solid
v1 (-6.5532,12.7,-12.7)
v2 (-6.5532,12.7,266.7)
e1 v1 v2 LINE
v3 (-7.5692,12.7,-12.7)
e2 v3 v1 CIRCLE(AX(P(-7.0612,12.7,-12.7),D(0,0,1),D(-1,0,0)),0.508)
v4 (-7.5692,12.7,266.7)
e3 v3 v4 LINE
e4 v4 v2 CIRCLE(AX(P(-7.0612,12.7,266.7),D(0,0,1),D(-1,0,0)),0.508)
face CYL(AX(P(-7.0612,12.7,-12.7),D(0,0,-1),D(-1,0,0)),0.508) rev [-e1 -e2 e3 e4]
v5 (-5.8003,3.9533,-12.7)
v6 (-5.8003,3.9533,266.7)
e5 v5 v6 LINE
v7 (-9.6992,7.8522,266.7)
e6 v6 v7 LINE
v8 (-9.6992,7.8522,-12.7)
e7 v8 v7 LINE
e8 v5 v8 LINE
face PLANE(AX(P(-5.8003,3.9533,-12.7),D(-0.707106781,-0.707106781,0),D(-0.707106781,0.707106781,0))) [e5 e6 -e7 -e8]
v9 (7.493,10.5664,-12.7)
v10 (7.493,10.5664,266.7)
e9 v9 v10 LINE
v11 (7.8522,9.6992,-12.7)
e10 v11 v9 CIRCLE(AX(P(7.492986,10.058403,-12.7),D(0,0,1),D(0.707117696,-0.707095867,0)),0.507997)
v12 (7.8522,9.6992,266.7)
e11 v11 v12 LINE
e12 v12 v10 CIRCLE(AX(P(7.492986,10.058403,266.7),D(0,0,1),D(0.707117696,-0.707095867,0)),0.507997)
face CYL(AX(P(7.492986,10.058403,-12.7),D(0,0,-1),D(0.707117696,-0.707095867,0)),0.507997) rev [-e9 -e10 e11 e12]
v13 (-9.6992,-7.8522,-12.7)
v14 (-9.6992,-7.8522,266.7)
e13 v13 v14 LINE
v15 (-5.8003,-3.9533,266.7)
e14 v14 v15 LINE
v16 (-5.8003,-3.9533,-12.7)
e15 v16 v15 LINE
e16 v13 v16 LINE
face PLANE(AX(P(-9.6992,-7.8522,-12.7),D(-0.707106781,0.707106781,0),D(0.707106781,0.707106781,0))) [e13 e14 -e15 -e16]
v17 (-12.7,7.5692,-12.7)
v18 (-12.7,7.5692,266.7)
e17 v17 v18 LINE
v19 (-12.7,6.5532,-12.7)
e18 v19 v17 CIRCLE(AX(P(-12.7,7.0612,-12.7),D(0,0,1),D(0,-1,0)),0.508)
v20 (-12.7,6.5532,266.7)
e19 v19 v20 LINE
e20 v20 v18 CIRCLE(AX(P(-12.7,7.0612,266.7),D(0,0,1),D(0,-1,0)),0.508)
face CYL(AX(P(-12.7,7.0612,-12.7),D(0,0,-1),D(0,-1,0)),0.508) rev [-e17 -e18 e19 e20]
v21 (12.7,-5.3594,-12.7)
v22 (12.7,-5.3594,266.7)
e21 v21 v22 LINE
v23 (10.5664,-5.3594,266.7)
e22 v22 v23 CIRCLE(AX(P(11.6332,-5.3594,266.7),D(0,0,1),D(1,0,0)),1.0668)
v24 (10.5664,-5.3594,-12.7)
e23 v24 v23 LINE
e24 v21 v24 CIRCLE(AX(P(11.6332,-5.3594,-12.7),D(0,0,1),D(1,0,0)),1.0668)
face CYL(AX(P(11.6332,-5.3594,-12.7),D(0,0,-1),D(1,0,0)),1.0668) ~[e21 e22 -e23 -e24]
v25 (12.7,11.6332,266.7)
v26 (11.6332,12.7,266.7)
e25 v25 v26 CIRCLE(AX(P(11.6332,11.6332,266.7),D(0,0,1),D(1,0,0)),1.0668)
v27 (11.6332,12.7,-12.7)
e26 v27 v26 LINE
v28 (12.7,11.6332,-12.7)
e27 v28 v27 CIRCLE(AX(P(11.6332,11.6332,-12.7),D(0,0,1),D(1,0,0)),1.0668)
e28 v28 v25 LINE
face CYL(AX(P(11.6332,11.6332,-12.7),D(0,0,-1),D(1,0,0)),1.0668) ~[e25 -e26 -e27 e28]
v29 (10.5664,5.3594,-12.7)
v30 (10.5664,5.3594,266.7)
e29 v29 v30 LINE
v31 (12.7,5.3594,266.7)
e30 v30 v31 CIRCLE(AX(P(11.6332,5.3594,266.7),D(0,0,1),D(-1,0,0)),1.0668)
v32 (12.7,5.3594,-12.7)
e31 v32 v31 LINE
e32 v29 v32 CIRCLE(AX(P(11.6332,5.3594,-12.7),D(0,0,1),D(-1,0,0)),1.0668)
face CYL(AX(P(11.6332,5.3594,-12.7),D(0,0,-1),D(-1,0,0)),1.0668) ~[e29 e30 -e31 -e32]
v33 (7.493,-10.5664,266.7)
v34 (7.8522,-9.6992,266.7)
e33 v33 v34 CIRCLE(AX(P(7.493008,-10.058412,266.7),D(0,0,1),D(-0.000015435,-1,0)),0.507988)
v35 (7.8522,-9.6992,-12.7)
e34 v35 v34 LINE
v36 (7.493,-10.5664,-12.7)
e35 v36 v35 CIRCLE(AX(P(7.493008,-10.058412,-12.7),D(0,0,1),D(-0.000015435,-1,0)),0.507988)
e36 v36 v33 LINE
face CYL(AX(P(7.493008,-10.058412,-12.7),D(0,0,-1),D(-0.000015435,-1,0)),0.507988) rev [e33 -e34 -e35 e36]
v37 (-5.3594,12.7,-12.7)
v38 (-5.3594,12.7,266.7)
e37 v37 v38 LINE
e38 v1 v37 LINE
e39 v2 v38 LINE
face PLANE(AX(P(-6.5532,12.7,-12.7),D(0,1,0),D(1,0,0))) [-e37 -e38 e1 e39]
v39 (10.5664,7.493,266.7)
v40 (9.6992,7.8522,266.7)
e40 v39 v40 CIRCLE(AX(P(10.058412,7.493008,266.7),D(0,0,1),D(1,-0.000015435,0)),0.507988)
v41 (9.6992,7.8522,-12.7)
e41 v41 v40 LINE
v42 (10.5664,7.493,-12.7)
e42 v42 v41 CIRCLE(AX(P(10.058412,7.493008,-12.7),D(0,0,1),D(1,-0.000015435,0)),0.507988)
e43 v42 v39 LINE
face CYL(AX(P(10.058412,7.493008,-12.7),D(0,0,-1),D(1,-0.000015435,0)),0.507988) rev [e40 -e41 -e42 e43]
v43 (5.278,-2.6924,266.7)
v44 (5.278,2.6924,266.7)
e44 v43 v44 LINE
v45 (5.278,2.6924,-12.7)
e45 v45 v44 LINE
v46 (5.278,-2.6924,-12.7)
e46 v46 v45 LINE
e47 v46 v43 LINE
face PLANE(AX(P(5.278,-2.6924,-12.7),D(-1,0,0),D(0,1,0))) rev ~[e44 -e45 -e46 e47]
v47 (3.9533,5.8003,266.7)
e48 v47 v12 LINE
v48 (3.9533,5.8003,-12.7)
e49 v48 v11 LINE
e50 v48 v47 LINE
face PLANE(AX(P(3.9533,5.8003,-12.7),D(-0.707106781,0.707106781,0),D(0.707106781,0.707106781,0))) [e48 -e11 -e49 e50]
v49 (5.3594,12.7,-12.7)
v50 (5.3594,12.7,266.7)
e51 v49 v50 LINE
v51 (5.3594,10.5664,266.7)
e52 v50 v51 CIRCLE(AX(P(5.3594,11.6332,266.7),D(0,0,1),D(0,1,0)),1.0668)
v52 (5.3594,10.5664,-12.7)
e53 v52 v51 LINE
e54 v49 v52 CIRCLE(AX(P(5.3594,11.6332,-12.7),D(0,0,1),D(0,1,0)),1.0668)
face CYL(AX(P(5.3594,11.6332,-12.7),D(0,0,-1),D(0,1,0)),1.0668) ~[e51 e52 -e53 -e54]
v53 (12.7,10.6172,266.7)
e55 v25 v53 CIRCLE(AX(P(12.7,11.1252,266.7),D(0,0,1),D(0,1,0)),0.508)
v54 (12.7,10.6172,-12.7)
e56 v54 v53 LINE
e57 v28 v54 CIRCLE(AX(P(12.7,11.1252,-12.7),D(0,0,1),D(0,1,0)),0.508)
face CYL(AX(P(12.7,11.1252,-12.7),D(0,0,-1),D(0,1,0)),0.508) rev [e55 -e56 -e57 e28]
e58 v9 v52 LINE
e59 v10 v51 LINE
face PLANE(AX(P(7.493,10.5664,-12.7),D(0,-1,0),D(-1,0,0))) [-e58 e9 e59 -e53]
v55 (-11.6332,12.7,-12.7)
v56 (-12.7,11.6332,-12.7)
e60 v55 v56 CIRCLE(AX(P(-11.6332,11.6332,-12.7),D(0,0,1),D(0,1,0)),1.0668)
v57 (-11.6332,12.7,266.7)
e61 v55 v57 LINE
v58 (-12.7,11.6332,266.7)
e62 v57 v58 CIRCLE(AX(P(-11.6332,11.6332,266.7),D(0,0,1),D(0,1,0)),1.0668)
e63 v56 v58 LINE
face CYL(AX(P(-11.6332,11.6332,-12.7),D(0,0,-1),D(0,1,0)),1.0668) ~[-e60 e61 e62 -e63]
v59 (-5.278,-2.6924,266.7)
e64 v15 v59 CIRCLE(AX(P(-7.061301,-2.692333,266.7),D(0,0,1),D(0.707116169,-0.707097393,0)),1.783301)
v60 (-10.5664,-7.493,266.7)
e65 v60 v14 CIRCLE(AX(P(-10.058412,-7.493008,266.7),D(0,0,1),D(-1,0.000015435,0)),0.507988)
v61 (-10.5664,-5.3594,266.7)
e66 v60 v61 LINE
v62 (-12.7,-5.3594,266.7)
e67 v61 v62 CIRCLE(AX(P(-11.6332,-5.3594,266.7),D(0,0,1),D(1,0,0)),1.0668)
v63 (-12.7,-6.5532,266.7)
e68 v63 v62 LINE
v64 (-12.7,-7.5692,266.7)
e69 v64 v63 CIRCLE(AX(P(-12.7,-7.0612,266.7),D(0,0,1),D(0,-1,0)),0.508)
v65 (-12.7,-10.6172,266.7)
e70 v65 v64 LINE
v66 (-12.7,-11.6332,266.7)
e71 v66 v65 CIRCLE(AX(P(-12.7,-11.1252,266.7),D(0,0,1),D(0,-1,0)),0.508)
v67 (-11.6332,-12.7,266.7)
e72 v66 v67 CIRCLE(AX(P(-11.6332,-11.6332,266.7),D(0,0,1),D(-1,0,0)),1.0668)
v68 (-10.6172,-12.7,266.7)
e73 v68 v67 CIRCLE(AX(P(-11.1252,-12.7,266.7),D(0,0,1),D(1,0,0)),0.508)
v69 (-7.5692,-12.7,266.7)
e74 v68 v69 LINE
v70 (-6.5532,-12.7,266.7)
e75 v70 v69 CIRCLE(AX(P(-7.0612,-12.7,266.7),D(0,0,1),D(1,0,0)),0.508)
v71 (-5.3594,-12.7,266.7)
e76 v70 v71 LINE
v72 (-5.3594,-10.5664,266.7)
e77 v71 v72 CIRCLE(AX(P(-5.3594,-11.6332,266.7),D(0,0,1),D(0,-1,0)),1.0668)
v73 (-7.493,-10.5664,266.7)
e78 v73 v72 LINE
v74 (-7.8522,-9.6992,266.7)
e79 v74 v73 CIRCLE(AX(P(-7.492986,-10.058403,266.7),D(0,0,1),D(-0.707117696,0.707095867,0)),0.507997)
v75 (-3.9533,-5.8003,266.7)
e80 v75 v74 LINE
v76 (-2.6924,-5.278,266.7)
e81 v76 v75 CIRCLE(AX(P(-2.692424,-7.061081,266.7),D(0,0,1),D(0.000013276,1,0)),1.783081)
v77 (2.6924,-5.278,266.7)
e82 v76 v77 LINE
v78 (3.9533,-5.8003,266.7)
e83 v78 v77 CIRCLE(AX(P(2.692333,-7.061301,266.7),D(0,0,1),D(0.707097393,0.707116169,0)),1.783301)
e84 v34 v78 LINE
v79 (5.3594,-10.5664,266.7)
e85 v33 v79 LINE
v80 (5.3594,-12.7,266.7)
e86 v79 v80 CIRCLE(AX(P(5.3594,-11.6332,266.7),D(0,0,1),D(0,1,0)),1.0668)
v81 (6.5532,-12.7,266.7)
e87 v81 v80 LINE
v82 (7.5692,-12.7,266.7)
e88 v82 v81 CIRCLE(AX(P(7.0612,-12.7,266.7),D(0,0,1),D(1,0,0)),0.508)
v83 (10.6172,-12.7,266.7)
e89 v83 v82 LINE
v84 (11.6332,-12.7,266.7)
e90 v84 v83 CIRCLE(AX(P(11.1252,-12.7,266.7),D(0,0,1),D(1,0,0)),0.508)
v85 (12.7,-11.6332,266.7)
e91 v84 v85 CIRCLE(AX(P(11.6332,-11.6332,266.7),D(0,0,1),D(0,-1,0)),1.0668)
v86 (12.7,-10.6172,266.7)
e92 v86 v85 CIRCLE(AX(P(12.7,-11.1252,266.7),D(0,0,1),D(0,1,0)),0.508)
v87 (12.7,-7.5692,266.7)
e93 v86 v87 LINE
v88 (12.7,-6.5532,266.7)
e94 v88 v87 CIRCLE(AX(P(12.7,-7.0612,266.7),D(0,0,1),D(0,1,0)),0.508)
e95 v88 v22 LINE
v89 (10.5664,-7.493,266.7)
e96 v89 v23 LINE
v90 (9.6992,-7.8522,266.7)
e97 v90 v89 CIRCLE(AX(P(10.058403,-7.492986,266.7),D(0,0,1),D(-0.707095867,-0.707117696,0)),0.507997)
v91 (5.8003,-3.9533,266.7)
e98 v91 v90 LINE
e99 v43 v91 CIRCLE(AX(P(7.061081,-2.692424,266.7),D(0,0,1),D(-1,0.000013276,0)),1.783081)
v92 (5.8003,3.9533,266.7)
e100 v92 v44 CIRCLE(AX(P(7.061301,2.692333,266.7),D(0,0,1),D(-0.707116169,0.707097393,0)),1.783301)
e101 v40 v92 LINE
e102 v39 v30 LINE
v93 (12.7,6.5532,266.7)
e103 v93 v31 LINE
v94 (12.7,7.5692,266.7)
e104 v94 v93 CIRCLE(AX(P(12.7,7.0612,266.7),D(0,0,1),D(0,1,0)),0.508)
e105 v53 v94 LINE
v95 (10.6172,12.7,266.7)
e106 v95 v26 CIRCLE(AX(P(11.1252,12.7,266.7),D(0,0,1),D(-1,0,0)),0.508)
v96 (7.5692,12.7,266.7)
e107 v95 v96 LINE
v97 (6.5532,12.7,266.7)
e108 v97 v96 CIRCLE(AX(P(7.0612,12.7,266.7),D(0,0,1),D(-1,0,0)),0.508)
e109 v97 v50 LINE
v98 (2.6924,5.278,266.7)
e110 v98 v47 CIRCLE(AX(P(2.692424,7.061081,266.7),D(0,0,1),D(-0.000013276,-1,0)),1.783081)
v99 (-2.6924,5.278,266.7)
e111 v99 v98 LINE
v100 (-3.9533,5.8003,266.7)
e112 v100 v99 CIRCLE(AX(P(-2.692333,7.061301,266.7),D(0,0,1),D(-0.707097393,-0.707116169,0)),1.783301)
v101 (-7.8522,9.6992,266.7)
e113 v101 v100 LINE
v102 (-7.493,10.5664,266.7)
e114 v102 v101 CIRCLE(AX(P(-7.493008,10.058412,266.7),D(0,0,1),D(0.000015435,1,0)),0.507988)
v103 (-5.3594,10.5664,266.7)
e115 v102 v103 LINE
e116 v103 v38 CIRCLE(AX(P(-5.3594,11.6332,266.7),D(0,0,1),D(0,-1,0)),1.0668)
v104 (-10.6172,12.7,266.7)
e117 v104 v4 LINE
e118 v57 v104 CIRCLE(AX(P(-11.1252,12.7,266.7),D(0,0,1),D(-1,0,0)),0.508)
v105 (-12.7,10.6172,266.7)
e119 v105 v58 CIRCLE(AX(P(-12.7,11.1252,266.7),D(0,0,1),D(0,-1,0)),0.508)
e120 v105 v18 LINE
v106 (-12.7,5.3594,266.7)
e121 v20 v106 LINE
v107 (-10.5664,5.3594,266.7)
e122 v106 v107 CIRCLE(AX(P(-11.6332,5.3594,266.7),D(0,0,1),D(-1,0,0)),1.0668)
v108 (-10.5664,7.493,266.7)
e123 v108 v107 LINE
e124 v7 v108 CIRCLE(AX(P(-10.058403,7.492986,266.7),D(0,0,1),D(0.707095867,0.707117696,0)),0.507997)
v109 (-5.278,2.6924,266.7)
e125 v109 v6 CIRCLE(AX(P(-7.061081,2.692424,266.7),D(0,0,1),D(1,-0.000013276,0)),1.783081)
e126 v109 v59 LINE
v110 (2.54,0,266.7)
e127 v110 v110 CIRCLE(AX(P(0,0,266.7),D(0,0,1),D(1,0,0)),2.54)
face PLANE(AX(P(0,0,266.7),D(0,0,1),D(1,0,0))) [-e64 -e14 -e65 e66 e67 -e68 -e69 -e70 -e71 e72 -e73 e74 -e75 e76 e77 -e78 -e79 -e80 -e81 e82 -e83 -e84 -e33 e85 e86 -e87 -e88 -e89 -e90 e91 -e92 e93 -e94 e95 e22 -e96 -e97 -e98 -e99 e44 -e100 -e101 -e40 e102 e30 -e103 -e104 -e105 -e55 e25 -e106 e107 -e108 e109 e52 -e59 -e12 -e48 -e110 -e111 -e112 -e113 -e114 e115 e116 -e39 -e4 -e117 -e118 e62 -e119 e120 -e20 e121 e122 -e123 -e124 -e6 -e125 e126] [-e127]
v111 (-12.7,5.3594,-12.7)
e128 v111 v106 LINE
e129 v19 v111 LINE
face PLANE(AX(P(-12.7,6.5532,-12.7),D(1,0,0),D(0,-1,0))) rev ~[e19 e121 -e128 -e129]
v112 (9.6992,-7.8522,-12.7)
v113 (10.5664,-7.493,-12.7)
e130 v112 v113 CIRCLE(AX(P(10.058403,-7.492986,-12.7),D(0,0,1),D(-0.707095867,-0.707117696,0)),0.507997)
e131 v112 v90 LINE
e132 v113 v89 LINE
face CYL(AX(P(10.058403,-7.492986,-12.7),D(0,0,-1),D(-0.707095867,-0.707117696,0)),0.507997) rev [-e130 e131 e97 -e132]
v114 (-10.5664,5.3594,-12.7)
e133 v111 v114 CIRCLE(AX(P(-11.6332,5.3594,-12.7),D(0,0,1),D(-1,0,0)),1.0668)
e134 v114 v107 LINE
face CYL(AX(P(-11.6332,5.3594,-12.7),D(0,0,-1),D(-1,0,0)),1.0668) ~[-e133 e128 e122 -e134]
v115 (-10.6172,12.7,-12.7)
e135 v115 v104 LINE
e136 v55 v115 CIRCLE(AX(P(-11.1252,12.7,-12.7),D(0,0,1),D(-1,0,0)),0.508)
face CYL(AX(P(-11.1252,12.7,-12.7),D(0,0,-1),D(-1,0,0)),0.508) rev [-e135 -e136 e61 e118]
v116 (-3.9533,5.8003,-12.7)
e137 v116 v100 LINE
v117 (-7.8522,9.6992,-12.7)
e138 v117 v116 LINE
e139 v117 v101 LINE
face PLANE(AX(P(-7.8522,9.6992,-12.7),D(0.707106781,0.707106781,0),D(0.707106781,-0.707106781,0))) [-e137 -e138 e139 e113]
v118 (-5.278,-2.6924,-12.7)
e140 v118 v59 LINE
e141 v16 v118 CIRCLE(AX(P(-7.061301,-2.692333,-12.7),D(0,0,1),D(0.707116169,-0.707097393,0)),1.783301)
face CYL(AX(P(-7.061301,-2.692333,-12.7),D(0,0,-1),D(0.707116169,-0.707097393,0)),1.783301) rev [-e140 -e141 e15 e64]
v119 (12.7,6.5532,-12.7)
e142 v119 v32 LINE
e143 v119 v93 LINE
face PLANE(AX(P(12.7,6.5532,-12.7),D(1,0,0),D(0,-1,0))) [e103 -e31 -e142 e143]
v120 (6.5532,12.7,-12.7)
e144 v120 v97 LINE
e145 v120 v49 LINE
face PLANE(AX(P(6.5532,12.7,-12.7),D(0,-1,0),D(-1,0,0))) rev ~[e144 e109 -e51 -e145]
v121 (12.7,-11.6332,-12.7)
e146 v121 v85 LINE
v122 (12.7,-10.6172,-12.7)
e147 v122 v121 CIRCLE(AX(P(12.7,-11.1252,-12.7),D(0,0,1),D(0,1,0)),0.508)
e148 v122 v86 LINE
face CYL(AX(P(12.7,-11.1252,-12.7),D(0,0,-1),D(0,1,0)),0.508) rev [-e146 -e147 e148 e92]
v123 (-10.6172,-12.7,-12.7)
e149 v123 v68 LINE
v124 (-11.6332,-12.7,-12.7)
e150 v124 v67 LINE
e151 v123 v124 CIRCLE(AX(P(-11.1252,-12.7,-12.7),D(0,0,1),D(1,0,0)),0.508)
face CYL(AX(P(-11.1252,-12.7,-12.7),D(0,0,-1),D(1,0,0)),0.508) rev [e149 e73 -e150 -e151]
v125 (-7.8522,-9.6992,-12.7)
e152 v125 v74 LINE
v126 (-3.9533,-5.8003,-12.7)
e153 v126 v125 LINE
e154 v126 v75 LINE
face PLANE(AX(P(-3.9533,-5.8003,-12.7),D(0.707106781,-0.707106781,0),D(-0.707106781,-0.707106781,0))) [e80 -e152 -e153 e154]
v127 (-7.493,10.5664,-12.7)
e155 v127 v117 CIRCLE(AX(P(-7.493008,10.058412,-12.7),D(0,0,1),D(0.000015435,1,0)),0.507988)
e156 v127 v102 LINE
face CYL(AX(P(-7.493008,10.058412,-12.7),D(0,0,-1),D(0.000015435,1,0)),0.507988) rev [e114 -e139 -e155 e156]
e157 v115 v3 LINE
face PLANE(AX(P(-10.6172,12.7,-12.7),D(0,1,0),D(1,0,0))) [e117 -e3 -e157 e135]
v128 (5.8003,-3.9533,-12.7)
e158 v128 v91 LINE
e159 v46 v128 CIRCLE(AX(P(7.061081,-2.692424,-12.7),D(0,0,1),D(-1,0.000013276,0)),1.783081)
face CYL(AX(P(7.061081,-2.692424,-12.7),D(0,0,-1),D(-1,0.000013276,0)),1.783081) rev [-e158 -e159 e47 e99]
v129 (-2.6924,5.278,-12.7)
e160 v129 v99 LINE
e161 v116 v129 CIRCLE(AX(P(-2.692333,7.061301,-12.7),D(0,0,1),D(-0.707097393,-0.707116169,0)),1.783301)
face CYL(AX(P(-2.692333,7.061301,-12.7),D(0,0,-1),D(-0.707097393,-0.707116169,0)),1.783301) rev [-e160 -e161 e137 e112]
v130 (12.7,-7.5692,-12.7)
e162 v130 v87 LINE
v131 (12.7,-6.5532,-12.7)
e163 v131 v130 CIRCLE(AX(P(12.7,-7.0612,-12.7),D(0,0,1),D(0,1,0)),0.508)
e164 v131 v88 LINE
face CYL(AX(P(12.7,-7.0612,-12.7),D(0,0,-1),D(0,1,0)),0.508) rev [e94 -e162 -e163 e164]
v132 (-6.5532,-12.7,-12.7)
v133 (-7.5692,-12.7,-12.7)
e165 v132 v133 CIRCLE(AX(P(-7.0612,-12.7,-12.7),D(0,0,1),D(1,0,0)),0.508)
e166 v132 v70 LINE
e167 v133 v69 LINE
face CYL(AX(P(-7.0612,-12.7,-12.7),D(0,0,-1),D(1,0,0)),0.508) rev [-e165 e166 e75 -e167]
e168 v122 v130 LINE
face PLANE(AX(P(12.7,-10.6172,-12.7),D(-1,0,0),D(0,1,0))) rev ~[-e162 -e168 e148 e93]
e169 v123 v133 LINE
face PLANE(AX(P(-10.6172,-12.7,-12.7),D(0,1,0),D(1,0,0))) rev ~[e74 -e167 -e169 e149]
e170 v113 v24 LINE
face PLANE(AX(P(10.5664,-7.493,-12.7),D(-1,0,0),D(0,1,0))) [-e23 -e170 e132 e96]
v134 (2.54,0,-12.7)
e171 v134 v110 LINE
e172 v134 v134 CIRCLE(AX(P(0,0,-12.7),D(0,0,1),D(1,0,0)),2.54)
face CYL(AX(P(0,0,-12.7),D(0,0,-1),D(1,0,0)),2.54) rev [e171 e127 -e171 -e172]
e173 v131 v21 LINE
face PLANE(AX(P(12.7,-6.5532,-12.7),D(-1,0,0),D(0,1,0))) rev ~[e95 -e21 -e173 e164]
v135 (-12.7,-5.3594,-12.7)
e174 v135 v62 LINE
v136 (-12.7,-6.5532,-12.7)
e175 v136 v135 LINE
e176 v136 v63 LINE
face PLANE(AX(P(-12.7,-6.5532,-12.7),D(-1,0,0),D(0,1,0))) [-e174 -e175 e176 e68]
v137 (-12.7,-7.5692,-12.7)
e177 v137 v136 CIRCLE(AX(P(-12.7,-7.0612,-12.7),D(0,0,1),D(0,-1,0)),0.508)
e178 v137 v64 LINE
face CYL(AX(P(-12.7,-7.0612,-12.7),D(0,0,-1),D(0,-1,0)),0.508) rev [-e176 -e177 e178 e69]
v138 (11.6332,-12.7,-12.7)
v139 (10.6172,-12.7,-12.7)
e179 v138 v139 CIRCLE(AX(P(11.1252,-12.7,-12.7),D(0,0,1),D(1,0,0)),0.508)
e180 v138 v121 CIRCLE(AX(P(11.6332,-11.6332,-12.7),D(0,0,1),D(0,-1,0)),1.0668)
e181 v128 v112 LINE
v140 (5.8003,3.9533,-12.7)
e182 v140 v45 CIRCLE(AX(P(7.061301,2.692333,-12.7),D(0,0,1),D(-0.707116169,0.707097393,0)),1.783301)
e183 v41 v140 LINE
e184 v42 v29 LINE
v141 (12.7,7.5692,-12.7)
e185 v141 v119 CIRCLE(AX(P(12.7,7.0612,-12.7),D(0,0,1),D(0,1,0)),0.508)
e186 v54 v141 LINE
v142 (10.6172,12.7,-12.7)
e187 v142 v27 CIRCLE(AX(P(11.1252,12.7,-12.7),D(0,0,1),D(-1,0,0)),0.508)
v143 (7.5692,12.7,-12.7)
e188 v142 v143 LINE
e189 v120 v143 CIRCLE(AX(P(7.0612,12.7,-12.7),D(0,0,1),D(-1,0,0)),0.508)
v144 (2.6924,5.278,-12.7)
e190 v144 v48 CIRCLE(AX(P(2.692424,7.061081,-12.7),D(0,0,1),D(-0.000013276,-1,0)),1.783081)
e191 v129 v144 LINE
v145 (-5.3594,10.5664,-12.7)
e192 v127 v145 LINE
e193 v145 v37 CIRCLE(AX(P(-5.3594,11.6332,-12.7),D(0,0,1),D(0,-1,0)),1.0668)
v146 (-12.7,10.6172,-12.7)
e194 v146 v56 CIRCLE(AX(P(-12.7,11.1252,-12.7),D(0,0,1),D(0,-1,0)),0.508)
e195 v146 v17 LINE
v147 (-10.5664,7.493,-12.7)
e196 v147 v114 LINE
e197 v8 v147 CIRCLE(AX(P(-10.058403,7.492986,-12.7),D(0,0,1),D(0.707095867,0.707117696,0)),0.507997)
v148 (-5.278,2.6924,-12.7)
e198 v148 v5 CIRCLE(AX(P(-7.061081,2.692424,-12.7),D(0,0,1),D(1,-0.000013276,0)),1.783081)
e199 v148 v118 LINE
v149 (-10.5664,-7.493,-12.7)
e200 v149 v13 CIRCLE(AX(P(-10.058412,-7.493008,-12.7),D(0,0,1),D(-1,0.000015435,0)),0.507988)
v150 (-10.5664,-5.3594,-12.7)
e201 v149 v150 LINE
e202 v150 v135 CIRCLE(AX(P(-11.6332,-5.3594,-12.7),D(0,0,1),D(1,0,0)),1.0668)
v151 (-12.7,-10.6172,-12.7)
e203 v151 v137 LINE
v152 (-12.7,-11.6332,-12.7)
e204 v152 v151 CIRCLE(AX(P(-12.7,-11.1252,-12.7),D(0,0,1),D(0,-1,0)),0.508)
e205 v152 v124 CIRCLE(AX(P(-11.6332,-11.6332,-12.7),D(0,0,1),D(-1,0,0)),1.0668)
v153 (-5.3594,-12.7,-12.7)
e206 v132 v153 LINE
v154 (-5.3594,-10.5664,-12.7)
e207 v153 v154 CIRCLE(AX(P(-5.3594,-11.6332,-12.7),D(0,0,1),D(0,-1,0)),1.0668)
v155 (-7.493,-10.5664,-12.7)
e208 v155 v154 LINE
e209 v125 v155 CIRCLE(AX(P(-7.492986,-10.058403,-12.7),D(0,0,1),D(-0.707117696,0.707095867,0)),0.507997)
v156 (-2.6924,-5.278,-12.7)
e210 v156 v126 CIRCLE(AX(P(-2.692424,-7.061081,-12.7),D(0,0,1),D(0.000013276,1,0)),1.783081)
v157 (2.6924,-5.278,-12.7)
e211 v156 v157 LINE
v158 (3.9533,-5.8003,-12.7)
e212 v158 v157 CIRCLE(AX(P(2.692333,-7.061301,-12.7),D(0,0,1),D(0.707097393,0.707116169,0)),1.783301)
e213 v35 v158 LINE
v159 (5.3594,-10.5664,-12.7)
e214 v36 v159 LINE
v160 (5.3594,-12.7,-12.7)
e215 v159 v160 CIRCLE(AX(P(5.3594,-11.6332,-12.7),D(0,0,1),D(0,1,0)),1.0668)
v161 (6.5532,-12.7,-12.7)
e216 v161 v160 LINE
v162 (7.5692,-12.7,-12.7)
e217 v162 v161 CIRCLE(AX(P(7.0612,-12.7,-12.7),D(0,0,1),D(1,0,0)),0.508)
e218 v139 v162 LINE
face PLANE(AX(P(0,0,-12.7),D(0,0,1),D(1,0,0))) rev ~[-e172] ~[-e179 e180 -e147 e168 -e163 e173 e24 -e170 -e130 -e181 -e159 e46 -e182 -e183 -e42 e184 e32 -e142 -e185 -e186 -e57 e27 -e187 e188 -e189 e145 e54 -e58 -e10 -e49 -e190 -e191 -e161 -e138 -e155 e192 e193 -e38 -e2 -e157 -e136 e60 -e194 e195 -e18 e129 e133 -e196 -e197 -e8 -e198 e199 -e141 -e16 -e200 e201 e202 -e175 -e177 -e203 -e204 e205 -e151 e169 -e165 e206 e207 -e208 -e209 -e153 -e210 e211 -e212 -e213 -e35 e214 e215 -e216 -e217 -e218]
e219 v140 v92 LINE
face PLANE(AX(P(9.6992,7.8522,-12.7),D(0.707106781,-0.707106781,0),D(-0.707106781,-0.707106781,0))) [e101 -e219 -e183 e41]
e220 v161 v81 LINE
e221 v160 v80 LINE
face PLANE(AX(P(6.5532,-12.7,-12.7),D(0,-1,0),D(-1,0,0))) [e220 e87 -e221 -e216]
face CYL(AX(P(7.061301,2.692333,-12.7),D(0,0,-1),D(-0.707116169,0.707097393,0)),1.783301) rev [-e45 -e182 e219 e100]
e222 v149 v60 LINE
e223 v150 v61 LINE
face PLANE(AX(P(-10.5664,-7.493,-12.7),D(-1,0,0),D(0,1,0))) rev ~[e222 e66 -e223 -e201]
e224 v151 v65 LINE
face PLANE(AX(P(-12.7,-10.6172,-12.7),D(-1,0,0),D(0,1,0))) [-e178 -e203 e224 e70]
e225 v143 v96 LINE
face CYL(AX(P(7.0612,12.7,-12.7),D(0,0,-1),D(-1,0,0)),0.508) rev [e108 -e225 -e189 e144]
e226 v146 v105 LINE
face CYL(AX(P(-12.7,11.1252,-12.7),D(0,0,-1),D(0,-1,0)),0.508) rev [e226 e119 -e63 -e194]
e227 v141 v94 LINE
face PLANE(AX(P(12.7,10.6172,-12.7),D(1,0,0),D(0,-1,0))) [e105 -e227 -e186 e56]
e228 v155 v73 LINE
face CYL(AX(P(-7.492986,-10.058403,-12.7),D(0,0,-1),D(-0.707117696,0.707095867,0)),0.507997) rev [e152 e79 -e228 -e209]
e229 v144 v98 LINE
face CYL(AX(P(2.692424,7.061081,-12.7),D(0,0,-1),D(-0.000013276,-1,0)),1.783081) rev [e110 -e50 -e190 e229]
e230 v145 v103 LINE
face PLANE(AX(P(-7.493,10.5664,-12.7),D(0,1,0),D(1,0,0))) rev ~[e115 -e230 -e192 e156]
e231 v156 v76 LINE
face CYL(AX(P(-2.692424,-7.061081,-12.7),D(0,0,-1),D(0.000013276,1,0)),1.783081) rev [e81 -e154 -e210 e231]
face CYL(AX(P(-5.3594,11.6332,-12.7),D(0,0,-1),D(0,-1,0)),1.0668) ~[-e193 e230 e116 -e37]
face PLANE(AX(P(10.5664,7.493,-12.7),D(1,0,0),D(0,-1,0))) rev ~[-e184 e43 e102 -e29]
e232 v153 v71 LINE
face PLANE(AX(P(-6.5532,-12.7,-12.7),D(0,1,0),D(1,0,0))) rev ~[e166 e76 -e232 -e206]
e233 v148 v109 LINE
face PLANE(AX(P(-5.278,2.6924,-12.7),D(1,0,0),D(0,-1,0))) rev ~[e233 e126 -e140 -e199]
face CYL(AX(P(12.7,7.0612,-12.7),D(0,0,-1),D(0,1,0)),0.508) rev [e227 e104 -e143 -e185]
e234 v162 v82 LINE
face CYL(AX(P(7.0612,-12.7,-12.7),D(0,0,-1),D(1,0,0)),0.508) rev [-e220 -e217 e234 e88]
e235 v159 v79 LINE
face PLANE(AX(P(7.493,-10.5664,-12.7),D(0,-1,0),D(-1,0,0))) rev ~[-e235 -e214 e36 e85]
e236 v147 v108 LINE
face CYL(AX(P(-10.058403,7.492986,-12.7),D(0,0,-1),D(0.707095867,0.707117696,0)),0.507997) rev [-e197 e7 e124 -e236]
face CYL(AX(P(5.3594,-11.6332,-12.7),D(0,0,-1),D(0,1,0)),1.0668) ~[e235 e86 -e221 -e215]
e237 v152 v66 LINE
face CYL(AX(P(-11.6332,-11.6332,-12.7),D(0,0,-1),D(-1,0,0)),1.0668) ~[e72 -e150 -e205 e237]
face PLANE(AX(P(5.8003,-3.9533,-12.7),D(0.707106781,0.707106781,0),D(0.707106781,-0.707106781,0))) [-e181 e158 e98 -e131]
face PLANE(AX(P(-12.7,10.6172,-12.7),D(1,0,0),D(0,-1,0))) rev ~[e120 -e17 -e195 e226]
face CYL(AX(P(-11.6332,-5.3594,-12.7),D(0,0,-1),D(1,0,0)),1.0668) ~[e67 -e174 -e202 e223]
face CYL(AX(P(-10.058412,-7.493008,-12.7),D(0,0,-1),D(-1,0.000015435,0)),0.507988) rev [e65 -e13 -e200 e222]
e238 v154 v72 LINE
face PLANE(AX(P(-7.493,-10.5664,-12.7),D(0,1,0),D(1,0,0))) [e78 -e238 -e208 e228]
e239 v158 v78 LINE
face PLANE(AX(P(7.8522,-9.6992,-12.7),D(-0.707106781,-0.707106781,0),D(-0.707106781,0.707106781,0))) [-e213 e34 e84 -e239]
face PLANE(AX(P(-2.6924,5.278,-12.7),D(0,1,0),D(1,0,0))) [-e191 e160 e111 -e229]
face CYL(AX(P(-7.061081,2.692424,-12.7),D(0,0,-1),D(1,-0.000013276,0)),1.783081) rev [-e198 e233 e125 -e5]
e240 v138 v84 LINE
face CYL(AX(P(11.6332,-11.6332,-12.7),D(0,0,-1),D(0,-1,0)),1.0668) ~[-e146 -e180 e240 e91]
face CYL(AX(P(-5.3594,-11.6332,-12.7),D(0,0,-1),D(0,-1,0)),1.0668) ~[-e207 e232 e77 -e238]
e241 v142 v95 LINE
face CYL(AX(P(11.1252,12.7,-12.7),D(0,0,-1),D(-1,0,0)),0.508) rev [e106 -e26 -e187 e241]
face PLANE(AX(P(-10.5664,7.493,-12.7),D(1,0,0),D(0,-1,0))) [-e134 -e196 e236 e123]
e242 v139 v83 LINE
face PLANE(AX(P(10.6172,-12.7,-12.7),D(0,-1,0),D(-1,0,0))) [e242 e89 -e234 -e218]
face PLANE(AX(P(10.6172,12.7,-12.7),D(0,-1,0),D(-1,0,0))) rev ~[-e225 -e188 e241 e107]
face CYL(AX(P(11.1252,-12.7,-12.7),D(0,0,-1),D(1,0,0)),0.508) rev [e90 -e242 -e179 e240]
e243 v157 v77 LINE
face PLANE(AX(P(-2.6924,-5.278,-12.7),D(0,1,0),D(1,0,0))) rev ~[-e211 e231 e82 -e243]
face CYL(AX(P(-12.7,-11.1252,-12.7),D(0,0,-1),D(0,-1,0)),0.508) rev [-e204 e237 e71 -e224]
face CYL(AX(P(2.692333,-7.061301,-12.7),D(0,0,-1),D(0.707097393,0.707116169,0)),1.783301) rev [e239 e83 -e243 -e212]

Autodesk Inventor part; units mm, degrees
ref_plane "Start Plane" through (0, 0, -12.7) normal (0, 0, 1) x (1, 0, 0)
ref_plane "End Plane" through (0, 0, 266.7) normal (0, 0, 1) x (1, 0, 0)
sketch "Sketch" plane through (0, 0, 0) normal (0, 0, 1) x (1, 0, 0)
  arc A0 (-11.6332, 12.7) -> (-12.7, 11.6332) centre (-11.6332, 11.6332) ccw
  arc A1 (-5.3594, 10.5664) -> (-5.3594, 12.7) centre (-5.3594, 11.6332) ccw
  arc A2 (-12.7, 5.3594) -> (-10.5664, 5.3594) centre (-11.6332, 5.3594) ccw
  line L0 (-10.5664, 7.493) -> (-10.5664, 5.3594)
  line L1 (-7.493, 10.5664) -> (-5.3594, 10.5664)
  arc A3 (-9.6992, 7.8522) -> (-10.5664, 7.493) centre (-10.0584, 7.493) ccw
  arc A4 (-7.493, 10.5664) -> (-7.8522, 9.6992) centre (-7.493, 10.0584) ccw
  line L2 (-11.6332, 11.6332) -> (0, 0) construction
  line L3 (-5.8003, 3.9533) -> (-9.6992, 7.8522)
  line L4 (-7.8522, 9.6992) -> (-3.9533, 5.8003)
  arc A5 (-3.9533, 5.8003) -> (-2.6924, 5.278) centre (-2.6924, 7.0612) ccw
  arc A6 (-5.278, 2.6924) -> (-5.8003, 3.9533) centre (-7.0612, 2.6924) ccw
  arc A7 (0, 2.54) -> (-2.54, 0) centre (0, 0) ccw construction
  line L5 (0, 0) -> (-12.7, 0) construction
  line L6 (0, 12.7) -> (0, 0) construction
  arc A8 (-11.6332, 12.7) -> (-10.6172, 12.7) centre (-11.1252, 12.7) ccw
  arc A9 (-7.5692, 12.7) -> (-6.5532, 12.7) centre (-7.0612, 12.7) ccw
  arc A10 (-12.7, 10.6172) -> (-12.7, 11.6332) centre (-12.7, 11.1252) ccw
  arc A11 (-12.7, 6.5532) -> (-12.7, 7.5692) centre (-12.7, 7.0612) ccw
  line L7 (-12.7, 10.6172) -> (-12.7, 7.5692)
  line L8 (-12.7, 6.5532) -> (-12.7, 5.3594)
  line L9 (-10.6172, 12.7) -> (-7.5692, 12.7)
  line L10 (-6.5532, 12.7) -> (-5.3594, 12.7)
  circle A12 centre (0, 0) radius 2.54
  arc A13 (-12.7, -11.6332) -> (-11.6332, -12.7) centre (-11.6332, -11.6332) ccw
  line L11 (-12.7, -10.6172) -> (-12.7, -7.5692)
  arc A14 (-10.5664, -7.493) -> (-9.6992, -7.8522) centre (-10.0584, -7.493) ccw
  line L12 (-9.6992, -7.8522) -> (-5.8003, -3.9533)
  line L13 (-11.6332, -11.6332) -> (0, 0) construction
  line L14 (-3.9533, -5.8003) -> (-7.8522, -9.6992)
  arc A15 (-7.8522, -9.6992) -> (-7.493, -10.5664) centre (-7.493, -10.0584) ccw
  line L15 (-10.6172, -12.7) -> (-7.5692, -12.7)
  line L16 (-7.493, -10.5664) -> (-5.3594, -10.5664)
  arc A16 (-6.5532, -12.7) -> (-7.5692, -12.7) centre (-7.0612, -12.7) ccw
  line L17 (-6.5532, -12.7) -> (-5.3594, -12.7)
  arc A17 (-5.3594, -12.7) -> (-5.3594, -10.5664) centre (-5.3594, -11.6332) ccw
  arc A18 (-10.6172, -12.7) -> (-11.6332, -12.7) centre (-11.1252, -12.7) ccw
  arc A19 (-12.7, -11.6332) -> (-12.7, -10.6172) centre (-12.7, -11.1252) ccw
  arc A20 (-2.6924, -5.278) -> (-3.9533, -5.8003) centre (-2.6924, -7.0612) ccw
  arc A21 (-5.8003, -3.9533) -> (-5.278, -2.6924) centre (-7.0612, -2.6924) ccw
  line L18 (-10.5664, -7.493) -> (-10.5664, -5.3594)
  line L19 (-12.7, -6.5532) -> (-12.7, -5.3594)
  arc A22 (-10.5664, -5.3594) -> (-12.7, -5.3594) centre (-11.6332, -5.3594) ccw
  arc A23 (-12.7, -7.5692) -> (-12.7, -6.5532) centre (-12.7, -7.0612) ccw
  arc A24 (11.6332, -12.7) -> (12.7, -11.6332) centre (11.6332, -11.6332) ccw
  line L20 (10.6172, -12.7) -> (7.5692, -12.7)
  arc A25 (7.493, -10.5664) -> (7.8522, -9.6992) centre (7.493, -10.0584) ccw
  line L21 (7.8522, -9.6992) -> (3.9533, -5.8003)
  line L22 (11.6332, -11.6332) -> (0, 0) construction
  line L23 (5.8003, -3.9533) -> (9.6992, -7.8522)
  arc A26 (9.6992, -7.8522) -> (10.5664, -7.493) centre (10.0584, -7.493) ccw
  line L24 (12.7, -10.6172) -> (12.7, -7.5692)
  line L25 (10.5664, -7.493) -> (10.5664, -5.3594)
  arc A27 (12.7, -6.5532) -> (12.7, -7.5692) centre (12.7, -7.0612) ccw
  line L26 (12.7, -6.5532) -> (12.7, -5.3594)
  arc A28 (12.7, -5.3594) -> (10.5664, -5.3594) centre (11.6332, -5.3594) ccw
  arc A29 (12.7, -10.6172) -> (12.7, -11.6332) centre (12.7, -11.1252) ccw
  arc A30 (11.6332, -12.7) -> (10.6172, -12.7) centre (11.1252, -12.7) ccw
  arc A31 (5.278, -2.6924) -> (5.8003, -3.9533) centre (7.0612, -2.6924) ccw
  arc A32 (3.9533, -5.8003) -> (2.6924, -5.278) centre (2.6924, -7.0612) ccw
  line L27 (7.493, -10.5664) -> (5.3594, -10.5664)
  line L28 (6.5532, -12.7) -> (5.3594, -12.7)
  arc A33 (5.3594, -10.5664) -> (5.3594, -12.7) centre (5.3594, -11.6332) ccw
  arc A34 (7.5692, -12.7) -> (6.5532, -12.7) centre (7.0612, -12.7) ccw
  arc A35 (12.7, 11.6332) -> (11.6332, 12.7) centre (11.6332, 11.6332) ccw
  line L29 (12.7, 10.6172) -> (12.7, 7.5692)
  arc A36 (10.5664, 7.493) -> (9.6992, 7.8522) centre (10.0584, 7.493) ccw
  line L30 (9.6992, 7.8522) -> (5.8003, 3.9533)
  line L31 (11.6332, 11.6332) -> (0, 0) construction
  line L32 (3.9533, 5.8003) -> (7.8522, 9.6992)
  arc A37 (7.8522, 9.6992) -> (7.493, 10.5664) centre (7.493, 10.0584) ccw
  line L33 (10.6172, 12.7) -> (7.5692, 12.7)
  line L34 (7.493, 10.5664) -> (5.3594, 10.5664)
  arc A38 (6.5532, 12.7) -> (7.5692, 12.7) centre (7.0612, 12.7) ccw
  line L35 (6.5532, 12.7) -> (5.3594, 12.7)
  arc A39 (5.3594, 12.7) -> (5.3594, 10.5664) centre (5.3594, 11.6332) ccw
  arc A40 (10.6172, 12.7) -> (11.6332, 12.7) centre (11.1252, 12.7) ccw
  arc A41 (12.7, 11.6332) -> (12.7, 10.6172) centre (12.7, 11.1252) ccw
  arc A42 (2.6924, 5.278) -> (3.9533, 5.8003) centre (2.6924, 7.0612) ccw
  arc A43 (5.8003, 3.9533) -> (5.278, 2.6924) centre (7.0612, 2.6924) ccw
  line L36 (10.5664, 7.493) -> (10.5664, 5.3594)
  line L37 (12.7, 6.5532) -> (12.7, 5.3594)
  arc A44 (10.5664, 5.3594) -> (12.7, 5.3594) centre (11.6332, 5.3594) ccw
  arc A45 (12.7, 7.5692) -> (12.7, 6.5532) centre (12.7, 7.0612) ccw
  line L38 (-2.6924, 5.278) -> (2.6924, 5.278)
  line L39 (-5.278, 2.6924) -> (-5.278, -2.6924)
  line L40 (-2.6924, -5.278) -> (2.6924, -5.278)
  line L41 (5.278, -2.6924) -> (5.278, 2.6924)
  point P0 (0, 0)
  point P1 (0, 0)
  dimension "d2" = 2.1336
  dimension "d3" = 6.2738
  dimension "d4" = 6.2738
  dimension "d5" = 1.0668
  dimension "d6" = 2.1336
  dimension "d7" = 2.1336
  dimension "d8" = 1.016
  dimension "d9" = 1.016
  dimension "d10" = 135
  dimension "d11" = 2.667
  dimension "d12" = 4.572
  dimension "d13" = 4.572
  dimension "d14" = 2.667
  dimension "d15" = 5.08
  dimension "d16" = 45
  dimension "d19" = 45
  dimension "d20" = 0.508
  dimension "d21" = 4.572
  dimension "d22" = 1.016
  dimension "d23" = 4.572
  dimension "d24" = 1.016
  dimension "d25" = 0.508
  dimension "d26" = 0.508
  dimension "d27" = 0.508
  dimension "d28" = 12.7
  dimension "d37" = 360
  dimension "d47" = 10.5664
  dimension "d48" = 12.7
extrude "Body" add sketch "Sketch" along normal up to surface (279.4 mm away) from surface at -12.7
sketch "Sketch2" plane through (0, 0, 0) normal (0, 0, 1) x (1, 0, 0)
  line L0 (0, 0) -> (10, 0)
ref_plane "Work Plane3" through (0, 0, 0) normal (0, -1, 0) x (1, 0, 0)
sketch "Sketch3" plane through (0, 0, 0) normal (0, -1, 0) x (1, 0, 0)
  line L0 (-2, -12.7) -> (12, -12.7)
  line L1 (-2, 266.7) -> (12, 266.7)
  dimension "d60" = 279.4
ref_plane "Work Plane4" through (1193.8, 7.5692, -12.7) normal (0, 0, -1) x (-1, 0, 0)
split "Split1" plane through (1193.8, 7.5692, -12.7) removes the side toward (0, 0, -1)
ref_plane "Work Plane5" through (-10.6172, -279.4, -12.7) normal (0, 0, -1) x (-1, 0, 0)
split "Split2" plane through (-10.6172, -279.4, -12.7) removes the side toward (0, 0, -1)
ref_plane "Work Plane6" through (10.6172, 0, 266.7) normal (0, 0, 1) x (1, 0, 0)
split "Split3" plane through (10.6172, 0, 266.7) removes the side toward (0, 0, 1)
equation "\"d3\" = d4"
equation "\"d6\" = d7"
equation "\"d11\" = d14"
equation "\"d12\" = d13"
equation "\"d23\" = d21"
equation "\"d24\" = d30"
equation "\"d26\" = 0.5 * d24"
equation "\"d27\" = 0.5 * d22"
equation "\"Width\" = 2 * d28"
equation "\"Height\" = 2 * d48"
equation "\"G_OFFSET_START\" = 12.7"
equation "\"G_OFFSET_END\" = -12.7"
equation "\"d55\" = -G_OFFSET_START"
equation "\"d56\" = Length + G_OFFSET_END"
equation "\"G_L\" = 279.4"
equation "\"d30\" = 1.016"
equation "\"Length\" = 279.4"
properties part number "1010_80_20" material "Aluminum-6061"
